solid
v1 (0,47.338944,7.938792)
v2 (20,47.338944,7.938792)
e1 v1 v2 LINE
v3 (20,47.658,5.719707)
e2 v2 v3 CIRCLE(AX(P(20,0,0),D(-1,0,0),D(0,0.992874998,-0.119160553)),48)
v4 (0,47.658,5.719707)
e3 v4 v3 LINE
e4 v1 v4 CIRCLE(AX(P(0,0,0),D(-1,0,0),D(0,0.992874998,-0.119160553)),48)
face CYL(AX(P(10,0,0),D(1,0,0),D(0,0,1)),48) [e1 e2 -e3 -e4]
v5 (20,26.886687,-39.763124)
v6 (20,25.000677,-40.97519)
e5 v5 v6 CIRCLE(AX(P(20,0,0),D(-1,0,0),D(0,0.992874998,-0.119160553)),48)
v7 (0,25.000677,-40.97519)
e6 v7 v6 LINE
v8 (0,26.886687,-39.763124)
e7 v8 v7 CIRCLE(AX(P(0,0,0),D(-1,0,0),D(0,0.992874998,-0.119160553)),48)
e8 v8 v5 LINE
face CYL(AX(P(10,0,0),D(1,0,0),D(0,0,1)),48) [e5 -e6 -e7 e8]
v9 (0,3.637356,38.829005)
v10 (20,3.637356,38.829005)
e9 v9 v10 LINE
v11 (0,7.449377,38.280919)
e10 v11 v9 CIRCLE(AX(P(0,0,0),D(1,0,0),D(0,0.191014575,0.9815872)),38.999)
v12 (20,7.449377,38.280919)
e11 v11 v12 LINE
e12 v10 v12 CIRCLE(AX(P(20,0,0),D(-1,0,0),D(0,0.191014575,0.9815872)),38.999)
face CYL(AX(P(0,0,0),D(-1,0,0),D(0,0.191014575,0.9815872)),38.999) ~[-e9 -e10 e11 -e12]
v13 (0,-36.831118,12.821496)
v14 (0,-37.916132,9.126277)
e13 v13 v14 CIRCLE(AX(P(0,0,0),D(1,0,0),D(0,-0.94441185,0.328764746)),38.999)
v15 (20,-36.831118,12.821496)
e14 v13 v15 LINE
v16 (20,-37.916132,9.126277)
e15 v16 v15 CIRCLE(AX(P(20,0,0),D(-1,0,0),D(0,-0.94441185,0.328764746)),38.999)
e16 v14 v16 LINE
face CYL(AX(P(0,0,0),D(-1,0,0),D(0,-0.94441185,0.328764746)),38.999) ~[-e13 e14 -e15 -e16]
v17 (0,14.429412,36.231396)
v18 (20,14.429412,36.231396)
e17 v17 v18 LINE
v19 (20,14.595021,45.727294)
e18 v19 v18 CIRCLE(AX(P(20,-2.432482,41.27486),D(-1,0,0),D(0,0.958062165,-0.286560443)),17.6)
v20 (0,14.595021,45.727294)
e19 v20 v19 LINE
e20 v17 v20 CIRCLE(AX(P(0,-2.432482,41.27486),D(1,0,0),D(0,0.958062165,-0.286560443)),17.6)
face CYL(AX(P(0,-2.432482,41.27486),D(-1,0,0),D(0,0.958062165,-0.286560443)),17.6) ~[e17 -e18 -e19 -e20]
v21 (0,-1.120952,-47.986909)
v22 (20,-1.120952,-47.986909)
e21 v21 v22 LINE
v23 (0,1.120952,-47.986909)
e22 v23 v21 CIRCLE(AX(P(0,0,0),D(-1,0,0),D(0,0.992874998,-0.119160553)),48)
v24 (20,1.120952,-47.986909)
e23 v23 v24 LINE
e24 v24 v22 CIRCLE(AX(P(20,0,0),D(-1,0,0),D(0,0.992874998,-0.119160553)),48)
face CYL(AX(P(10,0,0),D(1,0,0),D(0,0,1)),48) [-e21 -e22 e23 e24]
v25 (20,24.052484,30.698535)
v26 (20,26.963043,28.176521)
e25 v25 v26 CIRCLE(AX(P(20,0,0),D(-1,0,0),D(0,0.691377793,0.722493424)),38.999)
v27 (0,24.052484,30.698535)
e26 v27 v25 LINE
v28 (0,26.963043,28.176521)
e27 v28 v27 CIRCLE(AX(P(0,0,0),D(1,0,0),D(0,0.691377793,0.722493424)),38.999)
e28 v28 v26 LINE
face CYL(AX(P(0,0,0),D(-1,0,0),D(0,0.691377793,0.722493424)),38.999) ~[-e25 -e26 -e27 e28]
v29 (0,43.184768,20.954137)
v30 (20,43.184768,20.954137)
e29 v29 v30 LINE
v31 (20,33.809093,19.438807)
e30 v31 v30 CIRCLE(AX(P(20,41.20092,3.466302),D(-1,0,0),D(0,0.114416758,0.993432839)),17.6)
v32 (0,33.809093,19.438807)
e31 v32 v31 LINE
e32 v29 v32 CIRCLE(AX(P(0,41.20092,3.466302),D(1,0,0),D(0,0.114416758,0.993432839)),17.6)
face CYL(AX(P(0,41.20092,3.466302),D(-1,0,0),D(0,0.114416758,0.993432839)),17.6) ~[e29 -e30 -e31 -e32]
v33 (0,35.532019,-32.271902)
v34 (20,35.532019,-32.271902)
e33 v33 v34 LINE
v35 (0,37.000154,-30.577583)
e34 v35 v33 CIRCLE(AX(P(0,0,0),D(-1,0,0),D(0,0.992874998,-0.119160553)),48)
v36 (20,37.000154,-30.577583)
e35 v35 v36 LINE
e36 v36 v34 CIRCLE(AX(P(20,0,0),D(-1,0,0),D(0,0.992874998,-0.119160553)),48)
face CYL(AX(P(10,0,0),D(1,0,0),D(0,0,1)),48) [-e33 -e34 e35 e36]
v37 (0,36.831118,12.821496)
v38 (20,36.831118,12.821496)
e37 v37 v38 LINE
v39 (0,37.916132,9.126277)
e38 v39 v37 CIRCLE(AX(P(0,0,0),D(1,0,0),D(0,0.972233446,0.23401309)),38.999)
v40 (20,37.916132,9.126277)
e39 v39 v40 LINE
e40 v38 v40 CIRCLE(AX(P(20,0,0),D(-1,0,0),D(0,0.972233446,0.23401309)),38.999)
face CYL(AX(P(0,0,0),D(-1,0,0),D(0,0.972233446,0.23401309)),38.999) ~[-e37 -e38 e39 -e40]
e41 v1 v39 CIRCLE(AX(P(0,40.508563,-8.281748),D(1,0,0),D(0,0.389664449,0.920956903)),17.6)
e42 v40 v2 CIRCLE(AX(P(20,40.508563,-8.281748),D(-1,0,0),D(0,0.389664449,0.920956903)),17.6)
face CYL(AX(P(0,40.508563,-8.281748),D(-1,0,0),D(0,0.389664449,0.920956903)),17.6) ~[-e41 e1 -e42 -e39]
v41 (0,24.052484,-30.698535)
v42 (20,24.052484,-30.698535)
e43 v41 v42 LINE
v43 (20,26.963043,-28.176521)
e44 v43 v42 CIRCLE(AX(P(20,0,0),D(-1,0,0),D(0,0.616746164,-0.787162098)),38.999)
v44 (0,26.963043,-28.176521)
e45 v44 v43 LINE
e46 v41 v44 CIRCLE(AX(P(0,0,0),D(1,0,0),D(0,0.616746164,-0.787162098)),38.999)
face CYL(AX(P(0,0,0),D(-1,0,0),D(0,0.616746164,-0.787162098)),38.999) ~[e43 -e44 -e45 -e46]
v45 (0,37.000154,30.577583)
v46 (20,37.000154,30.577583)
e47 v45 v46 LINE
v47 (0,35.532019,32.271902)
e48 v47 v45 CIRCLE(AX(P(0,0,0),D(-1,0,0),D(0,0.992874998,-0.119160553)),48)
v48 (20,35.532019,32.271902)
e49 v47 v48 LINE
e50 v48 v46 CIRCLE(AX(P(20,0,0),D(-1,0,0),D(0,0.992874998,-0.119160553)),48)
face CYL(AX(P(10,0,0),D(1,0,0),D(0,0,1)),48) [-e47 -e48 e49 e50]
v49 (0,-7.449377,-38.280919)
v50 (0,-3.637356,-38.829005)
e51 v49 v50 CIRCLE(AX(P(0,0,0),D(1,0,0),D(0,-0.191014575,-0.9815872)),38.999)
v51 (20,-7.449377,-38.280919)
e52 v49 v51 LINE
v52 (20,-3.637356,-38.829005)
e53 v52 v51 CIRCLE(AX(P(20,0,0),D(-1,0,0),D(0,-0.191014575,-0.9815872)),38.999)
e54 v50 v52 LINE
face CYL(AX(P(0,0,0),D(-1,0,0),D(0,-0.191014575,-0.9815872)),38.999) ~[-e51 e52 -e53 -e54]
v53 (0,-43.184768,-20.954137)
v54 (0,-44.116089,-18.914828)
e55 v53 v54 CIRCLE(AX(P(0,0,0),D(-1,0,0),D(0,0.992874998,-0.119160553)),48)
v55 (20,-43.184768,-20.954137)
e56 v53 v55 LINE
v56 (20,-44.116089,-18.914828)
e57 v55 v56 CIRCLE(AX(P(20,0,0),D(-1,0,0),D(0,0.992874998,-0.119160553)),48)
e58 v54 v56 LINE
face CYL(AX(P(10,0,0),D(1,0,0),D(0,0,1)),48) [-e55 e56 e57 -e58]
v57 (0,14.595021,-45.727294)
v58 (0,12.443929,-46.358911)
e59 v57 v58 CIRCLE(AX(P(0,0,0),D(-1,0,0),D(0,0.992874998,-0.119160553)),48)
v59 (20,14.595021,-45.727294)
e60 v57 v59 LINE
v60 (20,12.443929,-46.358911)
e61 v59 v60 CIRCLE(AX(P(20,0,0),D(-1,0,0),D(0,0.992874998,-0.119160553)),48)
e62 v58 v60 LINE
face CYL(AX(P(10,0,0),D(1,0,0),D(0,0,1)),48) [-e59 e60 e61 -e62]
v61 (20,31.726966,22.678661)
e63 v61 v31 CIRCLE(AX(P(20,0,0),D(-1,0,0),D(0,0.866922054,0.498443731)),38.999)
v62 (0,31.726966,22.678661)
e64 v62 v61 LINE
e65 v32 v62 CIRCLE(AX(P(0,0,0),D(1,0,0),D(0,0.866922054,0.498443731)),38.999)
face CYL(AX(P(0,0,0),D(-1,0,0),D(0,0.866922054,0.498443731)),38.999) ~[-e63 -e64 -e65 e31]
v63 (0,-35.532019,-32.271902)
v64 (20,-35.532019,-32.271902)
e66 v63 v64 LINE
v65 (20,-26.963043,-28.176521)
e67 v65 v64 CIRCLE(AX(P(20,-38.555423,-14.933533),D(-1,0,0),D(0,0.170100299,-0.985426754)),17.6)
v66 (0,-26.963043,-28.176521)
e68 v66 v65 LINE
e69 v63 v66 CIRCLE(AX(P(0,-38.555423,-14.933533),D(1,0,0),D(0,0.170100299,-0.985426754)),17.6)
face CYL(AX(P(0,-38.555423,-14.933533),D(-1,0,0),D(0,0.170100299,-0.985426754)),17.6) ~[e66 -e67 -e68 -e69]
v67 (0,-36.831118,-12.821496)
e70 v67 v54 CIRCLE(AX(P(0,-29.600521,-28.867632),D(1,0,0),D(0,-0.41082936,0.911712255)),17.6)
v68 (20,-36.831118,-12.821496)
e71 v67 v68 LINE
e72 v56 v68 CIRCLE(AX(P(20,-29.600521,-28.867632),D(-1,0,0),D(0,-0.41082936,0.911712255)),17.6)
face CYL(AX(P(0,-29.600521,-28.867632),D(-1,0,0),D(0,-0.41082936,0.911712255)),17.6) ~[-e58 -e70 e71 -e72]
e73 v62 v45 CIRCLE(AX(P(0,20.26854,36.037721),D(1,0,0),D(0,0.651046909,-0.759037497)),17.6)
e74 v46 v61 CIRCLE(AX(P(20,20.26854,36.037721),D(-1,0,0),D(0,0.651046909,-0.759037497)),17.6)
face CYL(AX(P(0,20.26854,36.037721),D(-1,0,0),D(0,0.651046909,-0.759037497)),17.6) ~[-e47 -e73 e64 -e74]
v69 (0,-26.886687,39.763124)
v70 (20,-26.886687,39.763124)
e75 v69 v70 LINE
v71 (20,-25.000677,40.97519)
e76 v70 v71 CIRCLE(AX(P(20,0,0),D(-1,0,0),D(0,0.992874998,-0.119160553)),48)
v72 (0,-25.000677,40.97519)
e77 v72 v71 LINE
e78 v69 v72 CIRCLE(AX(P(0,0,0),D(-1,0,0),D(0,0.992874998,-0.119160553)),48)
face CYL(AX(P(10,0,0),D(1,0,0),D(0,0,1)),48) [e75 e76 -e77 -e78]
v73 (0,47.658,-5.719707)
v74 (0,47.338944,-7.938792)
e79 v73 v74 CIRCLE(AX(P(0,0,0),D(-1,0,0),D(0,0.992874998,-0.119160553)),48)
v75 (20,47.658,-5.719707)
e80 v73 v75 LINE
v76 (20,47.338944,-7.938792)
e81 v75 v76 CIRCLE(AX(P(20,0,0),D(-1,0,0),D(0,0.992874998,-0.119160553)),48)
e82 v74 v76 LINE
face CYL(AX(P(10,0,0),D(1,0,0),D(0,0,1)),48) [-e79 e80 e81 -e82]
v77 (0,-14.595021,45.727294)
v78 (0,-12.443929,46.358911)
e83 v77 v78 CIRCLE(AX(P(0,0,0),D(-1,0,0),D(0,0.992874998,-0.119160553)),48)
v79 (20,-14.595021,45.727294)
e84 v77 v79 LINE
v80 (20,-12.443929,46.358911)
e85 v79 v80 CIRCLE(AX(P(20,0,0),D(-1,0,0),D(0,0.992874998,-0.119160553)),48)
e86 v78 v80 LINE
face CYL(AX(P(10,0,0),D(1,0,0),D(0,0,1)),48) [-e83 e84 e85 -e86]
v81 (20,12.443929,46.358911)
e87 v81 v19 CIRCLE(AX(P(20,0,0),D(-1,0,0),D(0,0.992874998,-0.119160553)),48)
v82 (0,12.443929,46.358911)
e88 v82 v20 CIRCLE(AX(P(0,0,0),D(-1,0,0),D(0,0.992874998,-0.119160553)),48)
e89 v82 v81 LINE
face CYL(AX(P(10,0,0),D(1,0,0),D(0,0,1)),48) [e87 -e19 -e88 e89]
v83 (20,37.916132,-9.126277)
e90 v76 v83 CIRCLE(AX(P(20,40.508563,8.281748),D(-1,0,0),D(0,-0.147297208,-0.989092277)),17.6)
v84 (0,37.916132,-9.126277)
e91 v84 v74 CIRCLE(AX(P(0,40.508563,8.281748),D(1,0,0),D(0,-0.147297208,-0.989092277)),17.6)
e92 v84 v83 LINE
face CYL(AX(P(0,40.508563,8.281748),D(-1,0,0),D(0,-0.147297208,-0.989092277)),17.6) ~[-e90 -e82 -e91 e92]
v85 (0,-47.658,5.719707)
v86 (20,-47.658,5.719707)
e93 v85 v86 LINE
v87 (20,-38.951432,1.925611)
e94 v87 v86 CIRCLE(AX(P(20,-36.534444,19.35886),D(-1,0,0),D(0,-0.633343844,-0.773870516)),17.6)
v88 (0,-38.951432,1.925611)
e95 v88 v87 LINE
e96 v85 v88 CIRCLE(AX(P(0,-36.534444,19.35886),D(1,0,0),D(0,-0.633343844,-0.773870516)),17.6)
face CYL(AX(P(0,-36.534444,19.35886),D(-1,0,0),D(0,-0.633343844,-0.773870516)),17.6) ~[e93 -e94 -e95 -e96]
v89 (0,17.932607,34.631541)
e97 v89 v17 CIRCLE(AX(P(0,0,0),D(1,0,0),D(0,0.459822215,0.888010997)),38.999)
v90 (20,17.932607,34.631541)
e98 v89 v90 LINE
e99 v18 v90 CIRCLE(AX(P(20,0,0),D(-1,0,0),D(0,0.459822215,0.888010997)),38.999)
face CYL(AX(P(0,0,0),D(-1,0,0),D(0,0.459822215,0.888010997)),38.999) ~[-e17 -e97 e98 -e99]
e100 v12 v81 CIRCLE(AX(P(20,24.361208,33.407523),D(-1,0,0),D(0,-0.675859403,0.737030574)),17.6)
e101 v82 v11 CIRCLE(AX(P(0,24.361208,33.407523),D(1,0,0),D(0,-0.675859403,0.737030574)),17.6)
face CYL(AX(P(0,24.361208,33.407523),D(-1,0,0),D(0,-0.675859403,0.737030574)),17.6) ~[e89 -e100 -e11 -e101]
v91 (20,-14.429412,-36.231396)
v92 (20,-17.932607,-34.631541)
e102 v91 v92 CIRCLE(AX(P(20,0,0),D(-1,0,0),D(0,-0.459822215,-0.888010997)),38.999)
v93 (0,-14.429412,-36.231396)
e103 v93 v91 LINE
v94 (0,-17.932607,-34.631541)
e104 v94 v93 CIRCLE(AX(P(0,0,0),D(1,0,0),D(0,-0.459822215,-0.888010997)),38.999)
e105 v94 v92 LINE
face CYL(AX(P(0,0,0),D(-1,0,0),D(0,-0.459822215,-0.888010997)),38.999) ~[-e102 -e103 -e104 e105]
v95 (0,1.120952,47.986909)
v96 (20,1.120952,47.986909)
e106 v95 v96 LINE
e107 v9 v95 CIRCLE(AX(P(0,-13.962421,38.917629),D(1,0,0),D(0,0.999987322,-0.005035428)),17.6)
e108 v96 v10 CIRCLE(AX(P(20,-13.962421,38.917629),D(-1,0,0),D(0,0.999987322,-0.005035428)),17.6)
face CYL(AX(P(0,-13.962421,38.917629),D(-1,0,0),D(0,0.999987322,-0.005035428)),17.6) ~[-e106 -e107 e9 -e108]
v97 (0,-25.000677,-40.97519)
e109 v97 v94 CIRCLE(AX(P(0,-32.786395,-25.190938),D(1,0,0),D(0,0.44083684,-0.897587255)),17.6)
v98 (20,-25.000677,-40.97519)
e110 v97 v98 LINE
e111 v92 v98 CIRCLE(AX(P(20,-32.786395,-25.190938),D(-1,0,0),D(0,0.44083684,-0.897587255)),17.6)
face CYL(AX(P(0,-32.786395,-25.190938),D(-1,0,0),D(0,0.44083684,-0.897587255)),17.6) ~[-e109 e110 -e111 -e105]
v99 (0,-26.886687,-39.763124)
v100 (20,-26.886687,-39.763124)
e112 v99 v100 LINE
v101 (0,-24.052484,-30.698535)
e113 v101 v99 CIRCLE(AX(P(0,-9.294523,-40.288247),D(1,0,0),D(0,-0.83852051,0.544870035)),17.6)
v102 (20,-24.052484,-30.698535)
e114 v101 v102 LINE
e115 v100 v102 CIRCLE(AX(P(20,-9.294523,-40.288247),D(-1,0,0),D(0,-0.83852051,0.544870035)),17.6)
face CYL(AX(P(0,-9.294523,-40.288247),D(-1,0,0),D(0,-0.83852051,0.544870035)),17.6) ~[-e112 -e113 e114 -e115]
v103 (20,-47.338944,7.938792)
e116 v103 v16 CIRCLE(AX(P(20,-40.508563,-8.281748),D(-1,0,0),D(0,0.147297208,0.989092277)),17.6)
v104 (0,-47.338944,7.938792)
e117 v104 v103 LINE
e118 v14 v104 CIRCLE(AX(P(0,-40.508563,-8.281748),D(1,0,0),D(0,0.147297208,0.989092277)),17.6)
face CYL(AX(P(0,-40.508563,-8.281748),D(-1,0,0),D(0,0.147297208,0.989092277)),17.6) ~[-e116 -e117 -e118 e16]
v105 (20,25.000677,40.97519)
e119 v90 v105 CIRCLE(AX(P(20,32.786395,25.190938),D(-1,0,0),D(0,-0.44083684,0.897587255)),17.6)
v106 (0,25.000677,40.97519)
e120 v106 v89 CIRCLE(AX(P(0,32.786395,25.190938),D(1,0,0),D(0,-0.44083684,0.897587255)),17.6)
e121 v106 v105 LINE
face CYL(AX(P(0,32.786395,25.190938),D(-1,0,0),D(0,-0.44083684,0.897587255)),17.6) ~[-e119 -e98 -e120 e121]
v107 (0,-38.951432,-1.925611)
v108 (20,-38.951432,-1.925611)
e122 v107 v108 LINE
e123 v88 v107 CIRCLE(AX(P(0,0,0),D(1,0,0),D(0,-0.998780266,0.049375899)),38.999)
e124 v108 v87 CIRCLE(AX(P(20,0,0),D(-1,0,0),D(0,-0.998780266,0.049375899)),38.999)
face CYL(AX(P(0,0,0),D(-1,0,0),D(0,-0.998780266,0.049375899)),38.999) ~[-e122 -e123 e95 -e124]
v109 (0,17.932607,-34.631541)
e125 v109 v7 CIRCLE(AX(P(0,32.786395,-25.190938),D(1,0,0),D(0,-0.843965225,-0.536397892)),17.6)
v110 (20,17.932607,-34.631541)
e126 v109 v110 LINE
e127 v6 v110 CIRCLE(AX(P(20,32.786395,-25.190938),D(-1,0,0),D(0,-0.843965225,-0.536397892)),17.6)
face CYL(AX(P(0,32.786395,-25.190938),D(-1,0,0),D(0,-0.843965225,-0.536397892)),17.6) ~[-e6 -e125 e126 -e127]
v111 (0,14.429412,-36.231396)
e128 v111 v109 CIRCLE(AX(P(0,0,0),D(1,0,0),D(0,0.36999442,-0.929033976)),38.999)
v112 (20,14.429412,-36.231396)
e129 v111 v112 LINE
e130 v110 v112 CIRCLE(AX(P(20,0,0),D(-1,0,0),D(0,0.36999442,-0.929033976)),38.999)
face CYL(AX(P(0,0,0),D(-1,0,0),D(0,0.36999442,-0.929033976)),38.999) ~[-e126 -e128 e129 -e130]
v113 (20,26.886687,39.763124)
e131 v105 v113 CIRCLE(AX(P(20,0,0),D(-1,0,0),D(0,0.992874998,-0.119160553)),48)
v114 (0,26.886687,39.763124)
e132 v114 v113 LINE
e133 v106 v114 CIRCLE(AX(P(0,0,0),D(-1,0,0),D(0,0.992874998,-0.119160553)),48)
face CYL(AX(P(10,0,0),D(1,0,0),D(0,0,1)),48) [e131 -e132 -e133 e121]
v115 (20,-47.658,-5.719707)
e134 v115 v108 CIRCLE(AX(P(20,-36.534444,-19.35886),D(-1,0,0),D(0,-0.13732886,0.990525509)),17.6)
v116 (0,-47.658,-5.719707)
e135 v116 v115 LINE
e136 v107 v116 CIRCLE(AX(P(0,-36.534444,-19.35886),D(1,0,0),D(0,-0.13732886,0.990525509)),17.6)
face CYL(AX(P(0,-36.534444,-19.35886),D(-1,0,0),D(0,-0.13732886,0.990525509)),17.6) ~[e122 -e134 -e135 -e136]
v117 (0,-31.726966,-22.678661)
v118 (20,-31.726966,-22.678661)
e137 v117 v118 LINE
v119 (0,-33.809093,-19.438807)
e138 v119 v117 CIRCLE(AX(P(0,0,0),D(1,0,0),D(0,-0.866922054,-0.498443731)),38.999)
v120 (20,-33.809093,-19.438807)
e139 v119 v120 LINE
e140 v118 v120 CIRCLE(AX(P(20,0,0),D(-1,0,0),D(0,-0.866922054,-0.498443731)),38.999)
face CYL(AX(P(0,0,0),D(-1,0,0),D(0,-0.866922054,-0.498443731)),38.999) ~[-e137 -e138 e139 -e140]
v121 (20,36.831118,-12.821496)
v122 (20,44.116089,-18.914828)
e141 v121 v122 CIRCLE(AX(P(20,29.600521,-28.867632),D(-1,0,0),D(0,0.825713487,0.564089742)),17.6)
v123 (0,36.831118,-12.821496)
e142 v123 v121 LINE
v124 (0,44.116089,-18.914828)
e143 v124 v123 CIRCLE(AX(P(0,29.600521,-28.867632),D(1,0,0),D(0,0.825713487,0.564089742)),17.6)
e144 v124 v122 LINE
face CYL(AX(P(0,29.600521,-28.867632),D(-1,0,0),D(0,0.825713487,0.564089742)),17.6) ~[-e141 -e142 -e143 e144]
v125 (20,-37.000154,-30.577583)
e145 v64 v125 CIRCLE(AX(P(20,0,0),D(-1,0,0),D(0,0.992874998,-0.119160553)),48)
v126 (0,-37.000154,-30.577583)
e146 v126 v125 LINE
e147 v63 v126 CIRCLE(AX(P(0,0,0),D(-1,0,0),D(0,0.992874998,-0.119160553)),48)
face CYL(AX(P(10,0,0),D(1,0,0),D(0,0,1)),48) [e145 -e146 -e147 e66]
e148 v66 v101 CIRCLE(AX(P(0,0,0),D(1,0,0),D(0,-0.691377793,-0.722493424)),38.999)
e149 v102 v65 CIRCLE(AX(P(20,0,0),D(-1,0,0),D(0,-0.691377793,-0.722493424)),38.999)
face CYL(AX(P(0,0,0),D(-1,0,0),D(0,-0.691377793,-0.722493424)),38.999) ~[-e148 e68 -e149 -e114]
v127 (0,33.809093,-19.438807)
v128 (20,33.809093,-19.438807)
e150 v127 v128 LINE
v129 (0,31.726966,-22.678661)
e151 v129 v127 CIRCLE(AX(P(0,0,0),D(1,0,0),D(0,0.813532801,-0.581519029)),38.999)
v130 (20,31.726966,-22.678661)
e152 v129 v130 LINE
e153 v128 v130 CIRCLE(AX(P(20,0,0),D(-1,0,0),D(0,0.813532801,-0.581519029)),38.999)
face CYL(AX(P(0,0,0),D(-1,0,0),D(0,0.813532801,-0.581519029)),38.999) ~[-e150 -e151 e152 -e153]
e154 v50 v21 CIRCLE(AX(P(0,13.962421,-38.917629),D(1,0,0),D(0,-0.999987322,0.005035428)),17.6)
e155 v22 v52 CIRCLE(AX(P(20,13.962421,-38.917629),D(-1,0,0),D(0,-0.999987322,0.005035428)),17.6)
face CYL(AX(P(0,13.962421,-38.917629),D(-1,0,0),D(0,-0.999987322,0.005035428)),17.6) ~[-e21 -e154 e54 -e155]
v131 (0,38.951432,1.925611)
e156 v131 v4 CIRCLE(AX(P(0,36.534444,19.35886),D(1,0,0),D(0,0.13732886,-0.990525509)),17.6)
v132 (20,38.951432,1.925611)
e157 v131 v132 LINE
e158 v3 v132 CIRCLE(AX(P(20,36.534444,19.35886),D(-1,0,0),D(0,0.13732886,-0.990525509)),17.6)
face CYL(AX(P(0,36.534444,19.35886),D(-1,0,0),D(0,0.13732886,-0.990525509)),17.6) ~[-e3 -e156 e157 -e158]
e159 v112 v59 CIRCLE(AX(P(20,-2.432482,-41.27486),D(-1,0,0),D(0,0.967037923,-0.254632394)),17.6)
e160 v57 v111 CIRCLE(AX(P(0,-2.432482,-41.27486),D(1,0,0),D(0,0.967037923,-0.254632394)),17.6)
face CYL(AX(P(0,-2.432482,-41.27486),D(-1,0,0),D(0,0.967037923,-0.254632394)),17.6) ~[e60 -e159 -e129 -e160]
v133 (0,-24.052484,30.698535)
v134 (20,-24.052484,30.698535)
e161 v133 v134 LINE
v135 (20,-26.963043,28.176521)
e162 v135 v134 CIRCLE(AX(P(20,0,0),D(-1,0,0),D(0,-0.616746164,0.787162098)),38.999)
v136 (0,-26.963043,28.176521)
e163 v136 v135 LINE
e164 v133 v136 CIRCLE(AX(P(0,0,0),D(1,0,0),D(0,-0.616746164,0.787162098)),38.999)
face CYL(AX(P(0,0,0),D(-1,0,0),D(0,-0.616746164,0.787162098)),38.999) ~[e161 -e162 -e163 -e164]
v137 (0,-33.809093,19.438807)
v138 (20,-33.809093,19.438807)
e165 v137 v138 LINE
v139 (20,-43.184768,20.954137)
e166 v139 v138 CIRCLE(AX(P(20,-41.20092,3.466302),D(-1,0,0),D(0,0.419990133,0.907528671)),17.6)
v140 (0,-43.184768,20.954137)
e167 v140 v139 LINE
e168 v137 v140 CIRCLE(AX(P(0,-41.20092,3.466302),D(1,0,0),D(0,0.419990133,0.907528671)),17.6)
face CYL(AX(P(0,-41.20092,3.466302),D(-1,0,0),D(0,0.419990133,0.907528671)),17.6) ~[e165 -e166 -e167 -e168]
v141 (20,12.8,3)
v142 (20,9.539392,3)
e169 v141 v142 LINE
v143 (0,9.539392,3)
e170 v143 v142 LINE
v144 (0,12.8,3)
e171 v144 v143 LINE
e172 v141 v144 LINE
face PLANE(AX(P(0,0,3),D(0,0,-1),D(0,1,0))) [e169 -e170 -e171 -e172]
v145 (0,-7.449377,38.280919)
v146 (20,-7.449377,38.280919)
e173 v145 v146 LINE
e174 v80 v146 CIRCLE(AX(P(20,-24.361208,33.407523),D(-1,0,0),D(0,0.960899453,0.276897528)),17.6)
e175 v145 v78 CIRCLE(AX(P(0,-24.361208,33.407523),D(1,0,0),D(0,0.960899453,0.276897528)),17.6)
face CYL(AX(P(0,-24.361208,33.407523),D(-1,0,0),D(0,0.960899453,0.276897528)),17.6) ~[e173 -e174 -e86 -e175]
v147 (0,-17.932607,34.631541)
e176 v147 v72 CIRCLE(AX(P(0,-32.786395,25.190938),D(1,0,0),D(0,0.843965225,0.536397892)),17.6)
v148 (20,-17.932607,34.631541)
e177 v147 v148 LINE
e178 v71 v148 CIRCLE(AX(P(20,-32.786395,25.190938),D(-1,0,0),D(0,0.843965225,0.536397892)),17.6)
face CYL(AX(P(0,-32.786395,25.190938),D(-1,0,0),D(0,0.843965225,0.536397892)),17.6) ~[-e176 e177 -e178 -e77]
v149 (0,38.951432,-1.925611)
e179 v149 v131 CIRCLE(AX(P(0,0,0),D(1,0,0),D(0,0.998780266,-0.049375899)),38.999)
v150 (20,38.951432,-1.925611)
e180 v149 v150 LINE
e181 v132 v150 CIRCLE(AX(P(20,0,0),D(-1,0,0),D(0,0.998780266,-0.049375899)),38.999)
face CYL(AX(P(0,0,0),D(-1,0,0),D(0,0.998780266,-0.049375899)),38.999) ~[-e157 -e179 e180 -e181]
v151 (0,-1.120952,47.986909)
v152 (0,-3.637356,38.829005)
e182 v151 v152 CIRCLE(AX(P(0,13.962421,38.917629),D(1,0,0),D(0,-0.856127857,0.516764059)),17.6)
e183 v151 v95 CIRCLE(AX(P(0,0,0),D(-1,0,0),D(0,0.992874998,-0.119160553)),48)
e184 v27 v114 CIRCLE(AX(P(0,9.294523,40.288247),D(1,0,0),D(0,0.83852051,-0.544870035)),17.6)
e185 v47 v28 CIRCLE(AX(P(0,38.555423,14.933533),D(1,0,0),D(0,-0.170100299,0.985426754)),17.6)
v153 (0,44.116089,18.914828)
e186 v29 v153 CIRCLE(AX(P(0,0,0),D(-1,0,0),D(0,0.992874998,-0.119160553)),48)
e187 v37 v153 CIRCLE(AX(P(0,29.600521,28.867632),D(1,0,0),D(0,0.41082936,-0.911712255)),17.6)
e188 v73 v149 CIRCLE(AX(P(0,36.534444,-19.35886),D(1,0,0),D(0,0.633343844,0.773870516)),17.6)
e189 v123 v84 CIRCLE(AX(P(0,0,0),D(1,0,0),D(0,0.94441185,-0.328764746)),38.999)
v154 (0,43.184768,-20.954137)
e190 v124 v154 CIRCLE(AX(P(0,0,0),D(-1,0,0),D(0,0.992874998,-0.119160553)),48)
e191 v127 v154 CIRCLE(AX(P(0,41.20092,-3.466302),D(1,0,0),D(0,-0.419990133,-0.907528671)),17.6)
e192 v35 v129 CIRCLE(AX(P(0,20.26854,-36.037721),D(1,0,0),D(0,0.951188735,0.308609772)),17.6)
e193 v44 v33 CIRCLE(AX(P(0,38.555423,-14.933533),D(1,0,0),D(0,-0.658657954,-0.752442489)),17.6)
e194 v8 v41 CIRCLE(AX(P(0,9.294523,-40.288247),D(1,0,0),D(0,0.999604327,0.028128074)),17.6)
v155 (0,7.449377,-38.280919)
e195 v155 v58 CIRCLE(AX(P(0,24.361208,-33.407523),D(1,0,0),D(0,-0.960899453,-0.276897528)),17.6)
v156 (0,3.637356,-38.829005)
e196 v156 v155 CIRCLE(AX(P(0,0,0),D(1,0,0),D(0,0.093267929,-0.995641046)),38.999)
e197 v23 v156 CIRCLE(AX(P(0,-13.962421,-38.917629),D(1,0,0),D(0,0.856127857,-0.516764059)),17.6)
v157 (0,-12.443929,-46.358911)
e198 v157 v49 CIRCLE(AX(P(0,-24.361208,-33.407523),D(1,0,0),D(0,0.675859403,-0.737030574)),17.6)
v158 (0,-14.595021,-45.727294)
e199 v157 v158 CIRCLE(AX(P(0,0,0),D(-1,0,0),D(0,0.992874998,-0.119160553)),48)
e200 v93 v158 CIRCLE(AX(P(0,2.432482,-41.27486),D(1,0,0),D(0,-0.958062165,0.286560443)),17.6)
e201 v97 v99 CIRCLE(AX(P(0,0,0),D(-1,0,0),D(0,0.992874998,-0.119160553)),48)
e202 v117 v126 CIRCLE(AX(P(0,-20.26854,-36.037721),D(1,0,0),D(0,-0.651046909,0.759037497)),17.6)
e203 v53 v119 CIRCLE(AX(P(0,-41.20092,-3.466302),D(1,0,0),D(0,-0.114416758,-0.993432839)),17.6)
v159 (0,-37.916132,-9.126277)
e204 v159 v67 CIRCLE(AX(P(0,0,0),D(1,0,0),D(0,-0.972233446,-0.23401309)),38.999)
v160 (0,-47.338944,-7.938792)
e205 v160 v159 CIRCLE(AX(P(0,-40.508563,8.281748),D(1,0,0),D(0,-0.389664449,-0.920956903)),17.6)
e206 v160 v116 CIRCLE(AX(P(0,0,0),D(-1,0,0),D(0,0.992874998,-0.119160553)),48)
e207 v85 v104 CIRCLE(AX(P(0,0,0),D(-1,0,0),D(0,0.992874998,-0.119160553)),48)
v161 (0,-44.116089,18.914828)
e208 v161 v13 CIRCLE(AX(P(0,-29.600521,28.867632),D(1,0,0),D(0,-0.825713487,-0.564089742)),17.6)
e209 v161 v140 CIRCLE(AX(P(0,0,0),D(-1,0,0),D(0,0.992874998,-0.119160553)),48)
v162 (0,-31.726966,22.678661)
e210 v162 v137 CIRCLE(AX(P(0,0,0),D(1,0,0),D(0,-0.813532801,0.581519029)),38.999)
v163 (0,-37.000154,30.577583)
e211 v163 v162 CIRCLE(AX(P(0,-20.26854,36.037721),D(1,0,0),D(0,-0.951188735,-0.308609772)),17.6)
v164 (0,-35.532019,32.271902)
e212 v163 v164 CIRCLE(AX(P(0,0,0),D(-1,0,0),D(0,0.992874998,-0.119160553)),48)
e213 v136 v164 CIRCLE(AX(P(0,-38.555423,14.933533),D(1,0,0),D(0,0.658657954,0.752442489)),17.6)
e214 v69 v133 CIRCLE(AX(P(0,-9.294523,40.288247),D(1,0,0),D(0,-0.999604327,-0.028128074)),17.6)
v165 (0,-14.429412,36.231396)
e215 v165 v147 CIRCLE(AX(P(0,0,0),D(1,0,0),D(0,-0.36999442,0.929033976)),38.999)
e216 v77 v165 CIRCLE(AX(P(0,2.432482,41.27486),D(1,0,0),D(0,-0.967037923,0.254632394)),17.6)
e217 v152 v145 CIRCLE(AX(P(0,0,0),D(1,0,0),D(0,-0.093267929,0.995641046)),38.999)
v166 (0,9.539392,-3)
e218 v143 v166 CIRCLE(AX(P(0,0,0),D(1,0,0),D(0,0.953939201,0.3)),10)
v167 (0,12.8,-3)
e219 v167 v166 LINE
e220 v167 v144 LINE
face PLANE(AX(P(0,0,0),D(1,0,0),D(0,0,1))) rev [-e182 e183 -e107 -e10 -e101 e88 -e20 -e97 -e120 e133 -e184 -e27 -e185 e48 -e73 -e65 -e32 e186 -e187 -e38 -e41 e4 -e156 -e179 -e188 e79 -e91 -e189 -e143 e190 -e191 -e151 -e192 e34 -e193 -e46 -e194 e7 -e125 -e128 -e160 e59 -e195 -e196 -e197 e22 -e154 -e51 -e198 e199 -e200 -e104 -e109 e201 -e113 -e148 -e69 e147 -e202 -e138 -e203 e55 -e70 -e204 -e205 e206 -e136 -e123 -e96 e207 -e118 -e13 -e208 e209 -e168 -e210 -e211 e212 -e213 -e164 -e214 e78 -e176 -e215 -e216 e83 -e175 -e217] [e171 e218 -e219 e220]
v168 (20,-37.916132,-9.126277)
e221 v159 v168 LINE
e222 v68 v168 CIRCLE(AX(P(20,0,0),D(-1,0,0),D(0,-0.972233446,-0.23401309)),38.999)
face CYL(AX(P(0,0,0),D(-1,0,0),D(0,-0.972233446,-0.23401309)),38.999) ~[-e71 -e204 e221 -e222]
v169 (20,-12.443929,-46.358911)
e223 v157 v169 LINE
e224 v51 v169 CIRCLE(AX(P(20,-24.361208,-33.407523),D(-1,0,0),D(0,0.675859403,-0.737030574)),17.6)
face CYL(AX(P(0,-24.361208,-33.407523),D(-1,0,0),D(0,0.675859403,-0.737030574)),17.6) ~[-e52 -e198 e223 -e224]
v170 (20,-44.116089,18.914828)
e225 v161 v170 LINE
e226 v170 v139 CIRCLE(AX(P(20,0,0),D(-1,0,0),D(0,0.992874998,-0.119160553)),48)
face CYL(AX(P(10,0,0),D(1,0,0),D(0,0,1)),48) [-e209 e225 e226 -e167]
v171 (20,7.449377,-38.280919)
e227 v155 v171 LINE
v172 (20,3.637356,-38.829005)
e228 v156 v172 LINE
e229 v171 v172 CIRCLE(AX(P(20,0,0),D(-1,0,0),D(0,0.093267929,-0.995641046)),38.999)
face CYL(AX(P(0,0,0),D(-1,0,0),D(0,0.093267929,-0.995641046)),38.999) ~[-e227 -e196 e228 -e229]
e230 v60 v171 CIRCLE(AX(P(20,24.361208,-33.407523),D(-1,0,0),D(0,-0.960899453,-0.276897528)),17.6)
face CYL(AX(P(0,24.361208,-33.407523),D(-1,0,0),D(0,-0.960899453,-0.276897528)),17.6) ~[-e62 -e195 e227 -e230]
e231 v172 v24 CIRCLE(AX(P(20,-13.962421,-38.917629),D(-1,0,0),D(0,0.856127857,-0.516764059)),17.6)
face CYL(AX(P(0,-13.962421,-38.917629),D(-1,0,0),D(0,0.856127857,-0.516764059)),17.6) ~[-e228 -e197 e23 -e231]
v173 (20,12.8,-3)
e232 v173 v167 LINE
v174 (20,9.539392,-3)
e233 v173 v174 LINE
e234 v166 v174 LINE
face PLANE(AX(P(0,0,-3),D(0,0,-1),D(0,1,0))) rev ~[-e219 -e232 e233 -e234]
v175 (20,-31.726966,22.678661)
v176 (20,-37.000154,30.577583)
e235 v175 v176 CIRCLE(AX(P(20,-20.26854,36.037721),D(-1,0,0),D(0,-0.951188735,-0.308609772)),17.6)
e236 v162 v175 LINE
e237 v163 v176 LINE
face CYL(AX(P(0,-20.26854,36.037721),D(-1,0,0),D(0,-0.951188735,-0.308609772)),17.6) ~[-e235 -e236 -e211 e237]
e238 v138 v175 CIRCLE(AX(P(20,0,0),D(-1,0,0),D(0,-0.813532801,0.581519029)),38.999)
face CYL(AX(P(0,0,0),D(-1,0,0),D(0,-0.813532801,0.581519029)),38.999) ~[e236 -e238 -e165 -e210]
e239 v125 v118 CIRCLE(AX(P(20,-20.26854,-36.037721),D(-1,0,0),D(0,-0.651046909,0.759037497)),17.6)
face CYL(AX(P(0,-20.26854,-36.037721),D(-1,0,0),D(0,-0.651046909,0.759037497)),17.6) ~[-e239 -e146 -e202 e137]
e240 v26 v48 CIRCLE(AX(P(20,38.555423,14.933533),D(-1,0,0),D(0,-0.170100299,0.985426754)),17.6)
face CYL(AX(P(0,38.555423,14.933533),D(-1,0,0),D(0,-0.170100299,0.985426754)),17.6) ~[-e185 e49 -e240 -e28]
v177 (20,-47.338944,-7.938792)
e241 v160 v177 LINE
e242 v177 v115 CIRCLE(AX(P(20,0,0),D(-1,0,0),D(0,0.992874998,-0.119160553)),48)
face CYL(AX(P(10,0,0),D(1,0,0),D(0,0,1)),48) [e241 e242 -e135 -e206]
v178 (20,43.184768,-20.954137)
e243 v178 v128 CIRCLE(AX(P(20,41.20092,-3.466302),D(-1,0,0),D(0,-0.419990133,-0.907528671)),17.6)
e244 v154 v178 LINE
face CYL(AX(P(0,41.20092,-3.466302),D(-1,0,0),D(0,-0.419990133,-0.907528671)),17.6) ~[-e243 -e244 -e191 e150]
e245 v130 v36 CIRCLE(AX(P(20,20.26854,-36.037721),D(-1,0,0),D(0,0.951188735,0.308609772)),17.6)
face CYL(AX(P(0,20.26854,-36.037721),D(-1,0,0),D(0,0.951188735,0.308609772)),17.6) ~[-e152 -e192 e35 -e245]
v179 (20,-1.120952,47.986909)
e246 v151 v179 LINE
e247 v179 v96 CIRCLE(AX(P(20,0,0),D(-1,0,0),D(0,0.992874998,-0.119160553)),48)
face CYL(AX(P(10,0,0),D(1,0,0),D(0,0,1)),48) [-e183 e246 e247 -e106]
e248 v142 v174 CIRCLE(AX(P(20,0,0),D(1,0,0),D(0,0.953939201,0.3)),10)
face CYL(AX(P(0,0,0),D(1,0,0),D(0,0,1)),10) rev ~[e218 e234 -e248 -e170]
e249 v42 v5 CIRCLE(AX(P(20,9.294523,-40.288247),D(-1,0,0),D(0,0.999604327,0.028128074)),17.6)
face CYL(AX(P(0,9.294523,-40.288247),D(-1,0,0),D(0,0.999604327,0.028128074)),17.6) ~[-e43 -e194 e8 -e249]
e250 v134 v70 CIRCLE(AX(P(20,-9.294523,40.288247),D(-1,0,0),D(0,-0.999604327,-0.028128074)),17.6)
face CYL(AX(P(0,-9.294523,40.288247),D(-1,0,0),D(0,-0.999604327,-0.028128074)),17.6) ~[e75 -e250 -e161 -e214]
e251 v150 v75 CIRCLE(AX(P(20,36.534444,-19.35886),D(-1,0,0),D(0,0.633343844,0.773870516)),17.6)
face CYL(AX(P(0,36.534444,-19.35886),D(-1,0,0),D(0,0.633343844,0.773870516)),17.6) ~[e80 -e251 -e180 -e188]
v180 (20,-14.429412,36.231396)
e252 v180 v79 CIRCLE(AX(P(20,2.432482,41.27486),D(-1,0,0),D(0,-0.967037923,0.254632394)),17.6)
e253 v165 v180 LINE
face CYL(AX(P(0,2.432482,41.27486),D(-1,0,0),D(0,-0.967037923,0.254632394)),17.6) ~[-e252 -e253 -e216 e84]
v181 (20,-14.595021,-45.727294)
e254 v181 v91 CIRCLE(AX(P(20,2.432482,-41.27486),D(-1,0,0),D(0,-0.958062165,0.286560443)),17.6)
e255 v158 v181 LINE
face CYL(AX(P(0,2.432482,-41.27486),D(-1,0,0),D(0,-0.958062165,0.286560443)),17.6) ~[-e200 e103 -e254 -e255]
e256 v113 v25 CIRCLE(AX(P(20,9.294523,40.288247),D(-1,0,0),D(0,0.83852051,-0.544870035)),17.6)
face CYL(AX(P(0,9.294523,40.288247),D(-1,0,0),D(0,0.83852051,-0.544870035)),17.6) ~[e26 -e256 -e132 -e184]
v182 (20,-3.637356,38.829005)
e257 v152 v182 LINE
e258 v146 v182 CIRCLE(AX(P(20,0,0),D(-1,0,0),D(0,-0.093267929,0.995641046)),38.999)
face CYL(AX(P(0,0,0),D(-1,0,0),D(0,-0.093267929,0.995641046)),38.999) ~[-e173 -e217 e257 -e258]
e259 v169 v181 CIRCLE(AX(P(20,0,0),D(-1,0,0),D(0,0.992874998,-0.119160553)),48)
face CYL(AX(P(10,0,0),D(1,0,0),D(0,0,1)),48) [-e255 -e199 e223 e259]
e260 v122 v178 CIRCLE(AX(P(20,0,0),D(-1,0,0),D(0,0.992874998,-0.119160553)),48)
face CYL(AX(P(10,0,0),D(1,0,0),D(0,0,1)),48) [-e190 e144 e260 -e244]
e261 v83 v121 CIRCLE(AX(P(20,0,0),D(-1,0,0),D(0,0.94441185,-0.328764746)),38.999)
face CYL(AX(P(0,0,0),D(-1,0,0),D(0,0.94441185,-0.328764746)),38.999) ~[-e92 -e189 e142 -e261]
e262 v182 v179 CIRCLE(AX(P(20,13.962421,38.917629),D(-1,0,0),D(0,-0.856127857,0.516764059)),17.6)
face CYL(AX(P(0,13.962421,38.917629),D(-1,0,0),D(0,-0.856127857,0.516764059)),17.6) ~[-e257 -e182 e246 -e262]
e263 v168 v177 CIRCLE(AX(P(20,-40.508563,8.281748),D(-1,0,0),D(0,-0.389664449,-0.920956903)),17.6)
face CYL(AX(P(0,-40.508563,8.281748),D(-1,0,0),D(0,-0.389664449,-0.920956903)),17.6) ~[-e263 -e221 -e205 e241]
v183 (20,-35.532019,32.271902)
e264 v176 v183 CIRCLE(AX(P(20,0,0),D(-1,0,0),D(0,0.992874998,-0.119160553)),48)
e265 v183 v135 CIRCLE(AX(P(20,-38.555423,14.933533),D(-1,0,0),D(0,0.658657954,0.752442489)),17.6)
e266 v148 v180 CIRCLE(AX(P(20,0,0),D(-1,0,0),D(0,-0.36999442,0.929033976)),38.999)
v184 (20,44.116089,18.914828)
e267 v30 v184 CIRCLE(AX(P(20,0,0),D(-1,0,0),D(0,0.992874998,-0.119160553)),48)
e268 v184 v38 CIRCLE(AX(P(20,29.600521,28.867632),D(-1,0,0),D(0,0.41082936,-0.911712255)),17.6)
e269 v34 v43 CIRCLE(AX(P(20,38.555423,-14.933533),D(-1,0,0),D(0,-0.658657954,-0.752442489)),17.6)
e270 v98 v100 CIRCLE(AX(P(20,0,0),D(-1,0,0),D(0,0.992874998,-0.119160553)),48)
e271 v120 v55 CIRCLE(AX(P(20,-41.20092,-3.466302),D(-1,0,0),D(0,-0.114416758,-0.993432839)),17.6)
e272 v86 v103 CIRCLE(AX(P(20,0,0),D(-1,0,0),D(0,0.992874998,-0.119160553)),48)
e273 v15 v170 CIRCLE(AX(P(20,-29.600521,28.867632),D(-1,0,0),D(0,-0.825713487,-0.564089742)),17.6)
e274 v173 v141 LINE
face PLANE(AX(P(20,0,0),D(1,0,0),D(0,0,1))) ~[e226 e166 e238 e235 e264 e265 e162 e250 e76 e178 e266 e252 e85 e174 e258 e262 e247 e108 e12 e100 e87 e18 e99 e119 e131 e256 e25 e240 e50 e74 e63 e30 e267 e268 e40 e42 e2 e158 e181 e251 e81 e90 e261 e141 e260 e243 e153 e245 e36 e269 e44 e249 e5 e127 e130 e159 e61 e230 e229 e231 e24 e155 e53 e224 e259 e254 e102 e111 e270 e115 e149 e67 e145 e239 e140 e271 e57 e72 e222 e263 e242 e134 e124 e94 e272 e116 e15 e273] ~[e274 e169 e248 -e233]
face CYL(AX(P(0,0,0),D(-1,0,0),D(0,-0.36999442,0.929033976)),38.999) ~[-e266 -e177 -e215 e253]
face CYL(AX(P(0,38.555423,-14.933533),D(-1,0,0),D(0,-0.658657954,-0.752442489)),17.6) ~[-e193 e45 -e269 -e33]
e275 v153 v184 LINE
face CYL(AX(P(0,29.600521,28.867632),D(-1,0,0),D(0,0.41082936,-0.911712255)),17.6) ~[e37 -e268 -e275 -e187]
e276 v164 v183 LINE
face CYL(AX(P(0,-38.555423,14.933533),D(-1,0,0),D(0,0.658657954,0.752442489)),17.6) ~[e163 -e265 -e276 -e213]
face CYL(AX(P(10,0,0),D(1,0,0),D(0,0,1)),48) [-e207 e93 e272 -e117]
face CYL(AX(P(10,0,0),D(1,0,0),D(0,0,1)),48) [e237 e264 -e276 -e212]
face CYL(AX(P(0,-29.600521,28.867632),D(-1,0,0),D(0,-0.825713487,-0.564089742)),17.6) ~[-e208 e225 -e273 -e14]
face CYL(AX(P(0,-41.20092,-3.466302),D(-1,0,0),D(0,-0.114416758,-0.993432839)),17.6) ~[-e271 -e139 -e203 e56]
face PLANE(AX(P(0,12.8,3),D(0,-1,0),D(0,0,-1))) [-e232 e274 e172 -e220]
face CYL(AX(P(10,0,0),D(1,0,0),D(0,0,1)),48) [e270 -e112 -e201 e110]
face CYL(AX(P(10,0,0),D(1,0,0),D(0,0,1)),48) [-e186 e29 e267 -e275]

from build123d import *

# Parameters (mm, degrees)
BASPROSKE_W     = 20
BASPROSKE_H     = 48
TOOTHCUT_DEPTH  = 71.767224052
TEETHCUTS_COUNT = 22
TEETHCUTS_ANGLE = 343.636363636
BORSKE_R        = 10
BORE_DEPTH      = 50.0000508
KEYSKE_W        = 6
KEYSKE_H        = 12.8
KEYWAY_DEPTH    = 50.0000508


with BuildPart() as part:
    # BasProSke → Base-Revolve (revolve)
    with BuildSketch(Plane(origin=(0, 0, 0), x_dir=(1, 0, 0), z_dir=(0, 1, 0)), mode=Mode.PRIVATE) as base_revolve_sk:
        with Locations((10, 24)):
            Rectangle(BASPROSKE_W, BASPROSKE_H)
    revolve(base_revolve_sk.sketch.rotate(Axis((-10, 0, 0), (1, 0, 0)), 180), axis=Axis((-10, 0, 0), (1, 0, 0)))

    # TooCutSke → ToothCut (cut, through all)
    with BuildSketch(Plane(origin=(0, 0, 0), x_dir=(0, 0, -1), z_dir=(1, 0, 0))):
        with BuildLine():
            ThreePointArc((1.925610671, 38.951431611), (0, 38.999), (-1.925610671, 38.951431611))
            ThreePointArc((-1.925610671, 38.951431611), (-3.230295596, 43.579258947), (-5.738738554, 47.681295337))
            ThreePointArc((-5.738738554, 47.681295337), (0, 48.0254), (5.738738554, 47.681295337))
            ThreePointArc((5.738738554, 47.681295337), (3.230295596, 43.579258947), (1.925610671, 38.951431611))
        make_face()
    toothcut = extrude(amount=TOOTHCUT_DEPTH, mode=Mode.SUBTRACT)

    # TeethCuts: ToothCut ×22 about axis
    teethcuts_axis = Axis((-10, 0, 0), (1, 0, 0))
    for i in range(1, TEETHCUTS_COUNT):
        add(toothcut.rotate(teethcuts_axis, i * TEETHCUTS_ANGLE / (TEETHCUTS_COUNT - 1)), mode=Mode.SUBTRACT)

    # BorSke → Bore (cut, symmetric)
    with BuildSketch(Plane(origin=(0, 0, 0), x_dir=(0, 0, -1), z_dir=(1, 0, 0))):
        with Locations(Location((0, 0, 0), (0, 0, 180))):
            Circle(BORSKE_R)
    extrude(amount=BORE_DEPTH, both=True, mode=Mode.SUBTRACT)

    # KeySke → Keyway (cut, symmetric)
    with BuildSketch(Plane(origin=(0, 0, 0), x_dir=(0, 0, -1), z_dir=(1, 0, 0))):
        with Locations((0, 6.4)):
            Rectangle(KEYSKE_W, KEYSKE_H)
    extrude(amount=KEYWAY_DEPTH, both=True, mode=Mode.SUBTRACT)


solid = part.part
